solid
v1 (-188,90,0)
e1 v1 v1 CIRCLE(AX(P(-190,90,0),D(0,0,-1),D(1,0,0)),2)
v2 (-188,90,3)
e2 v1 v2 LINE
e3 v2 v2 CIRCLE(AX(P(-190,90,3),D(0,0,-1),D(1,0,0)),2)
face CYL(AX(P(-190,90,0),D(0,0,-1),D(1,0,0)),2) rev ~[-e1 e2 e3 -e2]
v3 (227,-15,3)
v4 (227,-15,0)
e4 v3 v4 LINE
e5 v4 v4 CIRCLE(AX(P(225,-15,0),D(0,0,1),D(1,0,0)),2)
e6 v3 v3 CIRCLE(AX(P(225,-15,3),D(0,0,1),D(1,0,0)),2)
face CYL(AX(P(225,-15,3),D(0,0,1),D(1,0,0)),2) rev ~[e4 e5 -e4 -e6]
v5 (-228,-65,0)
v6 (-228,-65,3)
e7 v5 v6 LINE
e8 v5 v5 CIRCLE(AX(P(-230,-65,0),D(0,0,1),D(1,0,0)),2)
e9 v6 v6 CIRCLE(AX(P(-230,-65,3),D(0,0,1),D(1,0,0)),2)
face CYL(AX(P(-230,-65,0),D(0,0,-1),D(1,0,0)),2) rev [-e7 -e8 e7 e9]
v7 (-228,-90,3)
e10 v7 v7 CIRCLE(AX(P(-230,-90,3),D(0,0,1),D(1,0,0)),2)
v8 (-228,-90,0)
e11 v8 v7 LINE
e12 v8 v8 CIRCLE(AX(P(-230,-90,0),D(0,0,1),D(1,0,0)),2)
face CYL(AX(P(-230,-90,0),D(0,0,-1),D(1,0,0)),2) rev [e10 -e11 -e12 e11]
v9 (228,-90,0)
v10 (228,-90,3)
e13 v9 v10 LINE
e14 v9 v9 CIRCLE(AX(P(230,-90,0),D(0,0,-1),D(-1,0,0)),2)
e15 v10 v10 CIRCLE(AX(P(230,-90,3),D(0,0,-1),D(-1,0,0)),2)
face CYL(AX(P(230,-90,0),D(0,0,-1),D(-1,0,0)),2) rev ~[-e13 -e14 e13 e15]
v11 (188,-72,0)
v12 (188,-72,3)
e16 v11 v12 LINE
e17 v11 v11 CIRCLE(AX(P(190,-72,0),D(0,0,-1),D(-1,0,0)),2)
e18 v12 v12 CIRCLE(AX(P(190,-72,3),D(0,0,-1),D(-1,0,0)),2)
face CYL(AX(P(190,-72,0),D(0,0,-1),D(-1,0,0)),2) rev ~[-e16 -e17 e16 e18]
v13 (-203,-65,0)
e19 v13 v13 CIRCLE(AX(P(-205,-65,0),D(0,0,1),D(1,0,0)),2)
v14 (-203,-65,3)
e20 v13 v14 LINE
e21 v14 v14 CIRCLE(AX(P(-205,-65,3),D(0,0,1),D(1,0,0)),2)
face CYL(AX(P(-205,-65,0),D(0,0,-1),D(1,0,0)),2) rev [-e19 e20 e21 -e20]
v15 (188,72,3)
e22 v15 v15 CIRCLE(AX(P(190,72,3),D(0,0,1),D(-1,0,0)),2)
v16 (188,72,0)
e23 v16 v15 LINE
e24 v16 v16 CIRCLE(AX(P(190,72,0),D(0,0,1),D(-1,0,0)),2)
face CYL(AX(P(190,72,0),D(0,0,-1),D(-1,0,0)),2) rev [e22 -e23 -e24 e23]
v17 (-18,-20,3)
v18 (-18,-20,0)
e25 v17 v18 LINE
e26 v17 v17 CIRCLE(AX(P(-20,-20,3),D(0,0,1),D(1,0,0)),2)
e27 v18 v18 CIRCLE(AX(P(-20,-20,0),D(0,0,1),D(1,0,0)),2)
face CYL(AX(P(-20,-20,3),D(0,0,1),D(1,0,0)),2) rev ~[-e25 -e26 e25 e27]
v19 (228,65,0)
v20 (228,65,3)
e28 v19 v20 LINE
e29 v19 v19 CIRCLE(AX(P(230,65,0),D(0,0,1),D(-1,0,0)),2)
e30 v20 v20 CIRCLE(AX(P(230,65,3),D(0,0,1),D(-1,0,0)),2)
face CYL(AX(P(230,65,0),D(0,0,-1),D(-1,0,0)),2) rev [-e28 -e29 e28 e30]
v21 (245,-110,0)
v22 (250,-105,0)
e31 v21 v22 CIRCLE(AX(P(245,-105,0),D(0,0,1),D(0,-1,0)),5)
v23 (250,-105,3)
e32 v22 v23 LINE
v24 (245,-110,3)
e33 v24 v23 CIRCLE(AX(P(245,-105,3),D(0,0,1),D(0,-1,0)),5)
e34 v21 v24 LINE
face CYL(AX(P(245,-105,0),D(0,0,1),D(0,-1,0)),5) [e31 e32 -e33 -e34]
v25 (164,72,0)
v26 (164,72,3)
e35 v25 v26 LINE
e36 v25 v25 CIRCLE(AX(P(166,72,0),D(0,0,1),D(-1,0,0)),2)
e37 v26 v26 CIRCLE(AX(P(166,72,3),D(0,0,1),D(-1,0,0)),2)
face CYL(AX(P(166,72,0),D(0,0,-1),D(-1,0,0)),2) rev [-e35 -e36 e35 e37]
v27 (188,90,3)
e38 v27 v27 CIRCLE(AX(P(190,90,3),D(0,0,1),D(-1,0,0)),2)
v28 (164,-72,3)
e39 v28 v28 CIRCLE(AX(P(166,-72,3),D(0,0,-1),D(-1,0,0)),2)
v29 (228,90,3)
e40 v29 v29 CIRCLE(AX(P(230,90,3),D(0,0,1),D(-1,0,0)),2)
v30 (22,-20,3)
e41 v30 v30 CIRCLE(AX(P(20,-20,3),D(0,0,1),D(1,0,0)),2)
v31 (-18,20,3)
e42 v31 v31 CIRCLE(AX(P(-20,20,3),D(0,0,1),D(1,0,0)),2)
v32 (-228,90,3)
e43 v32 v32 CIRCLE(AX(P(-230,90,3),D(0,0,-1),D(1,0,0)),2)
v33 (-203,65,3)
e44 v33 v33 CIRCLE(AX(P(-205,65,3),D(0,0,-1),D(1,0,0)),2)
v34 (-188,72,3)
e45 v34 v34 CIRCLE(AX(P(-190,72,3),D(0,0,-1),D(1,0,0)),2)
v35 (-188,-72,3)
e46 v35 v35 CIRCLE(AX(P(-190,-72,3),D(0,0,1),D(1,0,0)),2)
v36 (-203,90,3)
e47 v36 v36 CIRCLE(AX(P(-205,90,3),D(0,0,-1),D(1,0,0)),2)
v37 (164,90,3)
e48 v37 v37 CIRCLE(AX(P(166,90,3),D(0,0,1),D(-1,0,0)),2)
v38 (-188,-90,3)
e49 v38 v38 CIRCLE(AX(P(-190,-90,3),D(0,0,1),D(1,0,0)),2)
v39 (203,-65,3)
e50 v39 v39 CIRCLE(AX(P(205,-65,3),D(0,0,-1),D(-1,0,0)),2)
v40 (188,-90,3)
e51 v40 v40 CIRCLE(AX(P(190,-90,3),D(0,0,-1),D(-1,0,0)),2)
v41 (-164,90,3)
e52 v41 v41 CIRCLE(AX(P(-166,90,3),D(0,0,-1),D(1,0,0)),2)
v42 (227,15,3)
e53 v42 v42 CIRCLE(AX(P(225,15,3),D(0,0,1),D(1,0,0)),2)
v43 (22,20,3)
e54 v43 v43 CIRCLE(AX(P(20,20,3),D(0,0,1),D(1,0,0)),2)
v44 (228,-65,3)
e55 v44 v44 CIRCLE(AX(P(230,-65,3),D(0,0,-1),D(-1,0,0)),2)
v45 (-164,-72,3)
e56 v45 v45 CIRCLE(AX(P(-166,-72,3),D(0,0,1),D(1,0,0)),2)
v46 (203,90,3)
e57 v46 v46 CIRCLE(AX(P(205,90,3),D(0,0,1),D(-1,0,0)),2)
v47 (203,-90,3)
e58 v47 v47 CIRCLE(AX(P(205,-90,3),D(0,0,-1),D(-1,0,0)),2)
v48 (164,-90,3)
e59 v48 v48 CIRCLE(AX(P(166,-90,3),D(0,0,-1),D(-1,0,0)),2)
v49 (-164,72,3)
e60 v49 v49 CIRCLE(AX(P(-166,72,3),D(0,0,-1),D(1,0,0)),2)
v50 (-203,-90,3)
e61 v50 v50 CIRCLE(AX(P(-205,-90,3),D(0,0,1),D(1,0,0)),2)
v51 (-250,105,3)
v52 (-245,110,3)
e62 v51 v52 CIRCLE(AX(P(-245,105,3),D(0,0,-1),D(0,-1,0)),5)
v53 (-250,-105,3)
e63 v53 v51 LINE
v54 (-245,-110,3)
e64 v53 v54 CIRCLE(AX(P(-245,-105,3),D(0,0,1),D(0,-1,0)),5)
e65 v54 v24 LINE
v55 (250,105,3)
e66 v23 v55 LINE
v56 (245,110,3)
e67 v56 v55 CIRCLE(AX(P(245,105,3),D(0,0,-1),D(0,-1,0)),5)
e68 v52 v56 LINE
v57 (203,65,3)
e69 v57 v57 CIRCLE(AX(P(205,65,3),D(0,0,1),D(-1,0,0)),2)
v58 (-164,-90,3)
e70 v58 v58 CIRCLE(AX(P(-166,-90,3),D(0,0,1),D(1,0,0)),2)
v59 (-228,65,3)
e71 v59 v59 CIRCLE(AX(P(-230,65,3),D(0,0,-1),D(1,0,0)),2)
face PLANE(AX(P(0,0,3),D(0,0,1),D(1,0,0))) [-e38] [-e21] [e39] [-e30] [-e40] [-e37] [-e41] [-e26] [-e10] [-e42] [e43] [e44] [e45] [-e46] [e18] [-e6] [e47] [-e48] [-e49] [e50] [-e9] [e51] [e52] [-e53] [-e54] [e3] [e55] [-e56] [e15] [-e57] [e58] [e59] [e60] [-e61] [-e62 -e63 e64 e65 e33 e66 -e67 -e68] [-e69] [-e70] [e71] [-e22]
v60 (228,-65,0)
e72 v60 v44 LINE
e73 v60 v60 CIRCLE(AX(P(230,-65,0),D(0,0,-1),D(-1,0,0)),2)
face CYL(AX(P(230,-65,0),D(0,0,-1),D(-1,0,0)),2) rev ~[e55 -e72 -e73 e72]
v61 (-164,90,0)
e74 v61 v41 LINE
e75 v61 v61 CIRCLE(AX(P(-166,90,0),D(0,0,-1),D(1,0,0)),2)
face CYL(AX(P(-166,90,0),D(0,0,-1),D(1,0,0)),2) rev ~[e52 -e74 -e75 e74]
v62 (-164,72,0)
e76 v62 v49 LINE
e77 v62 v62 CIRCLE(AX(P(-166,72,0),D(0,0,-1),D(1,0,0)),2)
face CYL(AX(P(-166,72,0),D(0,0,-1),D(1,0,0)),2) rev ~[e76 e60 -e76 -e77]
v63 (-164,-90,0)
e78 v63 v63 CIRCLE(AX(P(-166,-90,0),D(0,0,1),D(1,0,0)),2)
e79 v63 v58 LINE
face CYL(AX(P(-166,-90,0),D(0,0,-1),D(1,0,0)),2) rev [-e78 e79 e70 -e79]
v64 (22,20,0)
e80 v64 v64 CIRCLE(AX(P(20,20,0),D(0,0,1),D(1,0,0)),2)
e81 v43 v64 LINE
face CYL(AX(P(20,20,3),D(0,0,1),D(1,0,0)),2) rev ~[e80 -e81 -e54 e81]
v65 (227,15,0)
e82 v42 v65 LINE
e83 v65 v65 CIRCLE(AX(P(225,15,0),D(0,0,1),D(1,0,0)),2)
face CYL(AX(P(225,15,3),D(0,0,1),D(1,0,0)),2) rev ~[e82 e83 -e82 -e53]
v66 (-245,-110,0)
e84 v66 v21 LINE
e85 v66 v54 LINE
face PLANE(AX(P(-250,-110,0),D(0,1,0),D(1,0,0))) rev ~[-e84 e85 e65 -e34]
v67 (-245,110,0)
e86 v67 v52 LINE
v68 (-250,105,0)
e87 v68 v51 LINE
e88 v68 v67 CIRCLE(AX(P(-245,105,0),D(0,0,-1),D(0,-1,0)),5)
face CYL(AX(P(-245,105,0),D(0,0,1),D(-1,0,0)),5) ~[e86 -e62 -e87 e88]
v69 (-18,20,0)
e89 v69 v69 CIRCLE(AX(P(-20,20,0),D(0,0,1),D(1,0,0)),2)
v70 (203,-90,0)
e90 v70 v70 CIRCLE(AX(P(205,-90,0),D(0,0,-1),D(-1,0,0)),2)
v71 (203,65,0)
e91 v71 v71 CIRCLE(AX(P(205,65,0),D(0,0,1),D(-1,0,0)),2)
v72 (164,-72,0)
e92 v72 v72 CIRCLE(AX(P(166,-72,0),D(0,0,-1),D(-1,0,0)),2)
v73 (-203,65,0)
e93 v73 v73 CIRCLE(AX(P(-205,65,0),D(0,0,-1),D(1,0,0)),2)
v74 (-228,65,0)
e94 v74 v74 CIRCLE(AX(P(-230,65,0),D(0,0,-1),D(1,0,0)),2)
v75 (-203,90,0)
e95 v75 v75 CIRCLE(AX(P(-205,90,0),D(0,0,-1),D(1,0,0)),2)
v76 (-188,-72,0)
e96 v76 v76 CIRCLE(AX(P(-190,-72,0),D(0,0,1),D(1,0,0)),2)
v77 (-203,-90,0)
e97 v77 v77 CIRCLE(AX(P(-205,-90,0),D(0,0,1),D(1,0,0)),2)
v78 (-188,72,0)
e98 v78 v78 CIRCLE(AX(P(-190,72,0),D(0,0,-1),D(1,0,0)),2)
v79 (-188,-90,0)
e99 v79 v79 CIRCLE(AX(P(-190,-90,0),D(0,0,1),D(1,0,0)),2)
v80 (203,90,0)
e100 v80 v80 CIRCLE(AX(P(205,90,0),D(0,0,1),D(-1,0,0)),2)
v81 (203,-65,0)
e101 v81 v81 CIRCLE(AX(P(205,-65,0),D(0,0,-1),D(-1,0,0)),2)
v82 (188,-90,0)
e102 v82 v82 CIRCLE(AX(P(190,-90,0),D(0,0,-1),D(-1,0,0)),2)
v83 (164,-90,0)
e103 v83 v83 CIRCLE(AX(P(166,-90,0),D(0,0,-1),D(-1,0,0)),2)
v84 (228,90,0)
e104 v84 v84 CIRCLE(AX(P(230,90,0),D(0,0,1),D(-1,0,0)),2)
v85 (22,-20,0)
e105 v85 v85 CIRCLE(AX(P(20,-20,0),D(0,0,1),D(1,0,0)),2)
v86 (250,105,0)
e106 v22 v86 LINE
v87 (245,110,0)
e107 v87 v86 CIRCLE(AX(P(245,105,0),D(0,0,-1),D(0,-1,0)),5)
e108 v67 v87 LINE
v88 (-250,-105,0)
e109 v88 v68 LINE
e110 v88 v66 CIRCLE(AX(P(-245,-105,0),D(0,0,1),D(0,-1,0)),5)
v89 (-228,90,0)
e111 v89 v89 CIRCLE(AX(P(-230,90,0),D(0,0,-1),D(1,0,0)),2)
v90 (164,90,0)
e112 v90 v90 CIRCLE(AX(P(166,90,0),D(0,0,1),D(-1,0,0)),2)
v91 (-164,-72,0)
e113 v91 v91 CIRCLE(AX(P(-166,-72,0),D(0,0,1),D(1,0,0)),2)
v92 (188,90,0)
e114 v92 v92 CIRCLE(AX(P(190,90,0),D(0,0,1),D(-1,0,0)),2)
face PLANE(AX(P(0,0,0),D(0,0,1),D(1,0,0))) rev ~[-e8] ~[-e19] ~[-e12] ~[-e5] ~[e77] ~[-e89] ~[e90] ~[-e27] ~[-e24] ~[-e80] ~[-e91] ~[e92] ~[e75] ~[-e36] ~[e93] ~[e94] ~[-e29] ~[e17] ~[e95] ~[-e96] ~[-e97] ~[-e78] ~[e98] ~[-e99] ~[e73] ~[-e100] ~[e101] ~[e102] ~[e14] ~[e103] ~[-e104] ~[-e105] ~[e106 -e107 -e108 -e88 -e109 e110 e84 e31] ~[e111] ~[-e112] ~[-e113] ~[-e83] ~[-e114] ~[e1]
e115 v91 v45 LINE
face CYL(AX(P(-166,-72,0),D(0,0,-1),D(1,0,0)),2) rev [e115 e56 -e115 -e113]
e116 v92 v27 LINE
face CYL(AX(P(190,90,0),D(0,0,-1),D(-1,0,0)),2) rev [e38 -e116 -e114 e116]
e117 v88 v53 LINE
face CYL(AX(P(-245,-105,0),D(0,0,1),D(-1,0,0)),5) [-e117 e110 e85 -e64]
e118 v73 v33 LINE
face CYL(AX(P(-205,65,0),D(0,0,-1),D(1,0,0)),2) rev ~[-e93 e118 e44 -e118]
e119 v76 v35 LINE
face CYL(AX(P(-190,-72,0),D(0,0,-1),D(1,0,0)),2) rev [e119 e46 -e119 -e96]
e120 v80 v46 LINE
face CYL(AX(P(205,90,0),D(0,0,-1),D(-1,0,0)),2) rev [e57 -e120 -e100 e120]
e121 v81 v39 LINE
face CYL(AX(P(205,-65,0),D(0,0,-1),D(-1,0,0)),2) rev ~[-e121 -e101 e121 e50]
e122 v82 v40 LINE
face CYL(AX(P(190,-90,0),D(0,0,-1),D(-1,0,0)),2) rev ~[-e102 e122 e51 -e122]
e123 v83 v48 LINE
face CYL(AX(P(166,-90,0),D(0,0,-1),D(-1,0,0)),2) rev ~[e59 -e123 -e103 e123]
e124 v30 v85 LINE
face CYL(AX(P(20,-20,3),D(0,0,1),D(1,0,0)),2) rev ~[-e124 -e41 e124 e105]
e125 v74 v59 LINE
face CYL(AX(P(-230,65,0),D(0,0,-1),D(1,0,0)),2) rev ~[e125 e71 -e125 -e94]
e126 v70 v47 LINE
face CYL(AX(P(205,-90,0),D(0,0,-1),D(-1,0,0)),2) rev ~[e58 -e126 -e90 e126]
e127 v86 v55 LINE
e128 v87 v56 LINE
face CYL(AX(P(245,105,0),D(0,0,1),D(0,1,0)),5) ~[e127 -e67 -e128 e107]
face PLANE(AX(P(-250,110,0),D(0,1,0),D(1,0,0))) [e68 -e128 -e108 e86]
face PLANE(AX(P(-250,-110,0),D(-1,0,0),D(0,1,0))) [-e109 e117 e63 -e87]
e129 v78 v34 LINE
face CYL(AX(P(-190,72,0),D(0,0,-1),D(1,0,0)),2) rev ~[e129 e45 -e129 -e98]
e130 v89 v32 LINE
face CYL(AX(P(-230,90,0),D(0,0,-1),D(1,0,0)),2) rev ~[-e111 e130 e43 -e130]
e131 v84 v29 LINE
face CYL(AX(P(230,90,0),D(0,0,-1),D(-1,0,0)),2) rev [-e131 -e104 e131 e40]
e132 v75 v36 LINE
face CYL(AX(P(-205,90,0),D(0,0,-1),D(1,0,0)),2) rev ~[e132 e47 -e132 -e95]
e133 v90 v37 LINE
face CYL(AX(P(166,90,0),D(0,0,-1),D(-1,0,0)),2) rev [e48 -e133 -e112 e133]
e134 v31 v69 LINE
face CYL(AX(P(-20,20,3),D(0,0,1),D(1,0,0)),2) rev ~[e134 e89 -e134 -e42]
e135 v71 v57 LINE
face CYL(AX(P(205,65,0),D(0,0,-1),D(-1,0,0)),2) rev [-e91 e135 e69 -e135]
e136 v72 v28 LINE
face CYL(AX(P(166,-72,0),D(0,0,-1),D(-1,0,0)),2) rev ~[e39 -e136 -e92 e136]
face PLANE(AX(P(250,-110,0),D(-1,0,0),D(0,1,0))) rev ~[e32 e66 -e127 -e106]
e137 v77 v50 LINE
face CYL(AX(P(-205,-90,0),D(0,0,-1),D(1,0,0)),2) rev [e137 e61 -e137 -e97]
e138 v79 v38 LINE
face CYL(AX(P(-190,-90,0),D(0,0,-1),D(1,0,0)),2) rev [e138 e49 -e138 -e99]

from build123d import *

# Parameters (mm, degrees)
SZKIC1_W                    = 500
SZKIC1_H                    = 220
DODANIE_WYCI_GNI_CIE1_DEPTH = 3
WYTNIJ_WYCI_GNI_CIE2_REACH  = 275.146
SZKIC5_R                    = 2
WYTNIJ_WYCI_GNI_CIE4_REACH  = 275.146
SZKIC7_R                    = 2
ZAOKR_GLENIE1_R             = 5
WYTNIJ_WYCI_GNI_CIE5_REACH  = 275.146
SZKIC8_R                    = 2
LUSTRO2_COPY_1_REACH        = 275.146
LUSTRO2_COPY_1_SKETCH_R     = 2
WYTNIJ_WYCI_GNI_CIE6_REACH  = 275.146
SZKIC9_R                    = 2
LUSTRO4_COPY_1_REACH        = 275.146
LUSTRO4_COPY_1_SKETCH_R     = 2


with BuildPart() as part:
    # Szkic1 → Dodanie-wyciągnięcie1 (new body)
    with BuildSketch(Plane.XY):
        Rectangle(SZKIC1_W, SZKIC1_H)
    extrude(amount=DODANIE_WYCI_GNI_CIE1_DEPTH)

    # Szkic5 → Wytnij-wyciągnięcie2 (cut, up to next)
    with BuildSketch(Plane.XY.offset(3), mode=Mode.PRIVATE) as wytnij_wyci_gni_cie2_sk1:
        with Locations((225, 15)):
            Circle(SZKIC5_R)
    wytnij_wyci_gni_cie2_tool1 = extrude(wytnij_wyci_gni_cie2_sk1.sketch, amount=-WYTNIJ_WYCI_GNI_CIE2_REACH, mode=Mode.PRIVATE) & part.part
    # Szkic5 → Wytnij-wyciągnięcie2 (cut, up to next)
    with BuildSketch(Plane.XY.offset(3), mode=Mode.PRIVATE) as wytnij_wyci_gni_cie2_sk2:
        with Locations((225, -15)):
            Circle(SZKIC5_R)
    wytnij_wyci_gni_cie2_tool2 = extrude(wytnij_wyci_gni_cie2_sk2.sketch, amount=-WYTNIJ_WYCI_GNI_CIE2_REACH, mode=Mode.PRIVATE) & part.part
    add(wytnij_wyci_gni_cie2_tool1.solids().sort_by_distance((225, 15, 3))[0], mode=Mode.SUBTRACT)
    add(wytnij_wyci_gni_cie2_tool2.solids().sort_by_distance((225, -15, 3))[0], mode=Mode.SUBTRACT)

    # Szkic7 → Wytnij-wyciągnięcie4 (cut, up to next)
    with BuildSketch(Plane.XY.offset(3), mode=Mode.PRIVATE) as wytnij_wyci_gni_cie4_sk1:
        with Locations((-20, 20)):
            Circle(SZKIC7_R)
    wytnij_wyci_gni_cie4_tool1 = extrude(wytnij_wyci_gni_cie4_sk1.sketch, amount=-WYTNIJ_WYCI_GNI_CIE4_REACH, mode=Mode.PRIVATE) & part.part
    # Szkic7 → Wytnij-wyciągnięcie4 (cut, up to next)
    with BuildSketch(Plane.XY.offset(3), mode=Mode.PRIVATE) as wytnij_wyci_gni_cie4_sk2:
        with Locations((20, 20)):
            Circle(SZKIC7_R)
    wytnij_wyci_gni_cie4_tool2 = extrude(wytnij_wyci_gni_cie4_sk2.sketch, amount=-WYTNIJ_WYCI_GNI_CIE4_REACH, mode=Mode.PRIVATE) & part.part
    # Szkic7 → Wytnij-wyciągnięcie4 (cut, up to next)
    with BuildSketch(Plane.XY.offset(3), mode=Mode.PRIVATE) as wytnij_wyci_gni_cie4_sk3:
        with Locations((20, -20)):
            Circle(SZKIC7_R)
    wytnij_wyci_gni_cie4_tool3 = extrude(wytnij_wyci_gni_cie4_sk3.sketch, amount=-WYTNIJ_WYCI_GNI_CIE4_REACH, mode=Mode.PRIVATE) & part.part
    # Szkic7 → Wytnij-wyciągnięcie4 (cut, up to next)
    with BuildSketch(Plane.XY.offset(3), mode=Mode.PRIVATE) as wytnij_wyci_gni_cie4_sk4:
        with Locations((-20, -20)):
            Circle(SZKIC7_R)
    wytnij_wyci_gni_cie4_tool4 = extrude(wytnij_wyci_gni_cie4_sk4.sketch, amount=-WYTNIJ_WYCI_GNI_CIE4_REACH, mode=Mode.PRIVATE) & part.part
    add(wytnij_wyci_gni_cie4_tool1.solids().sort_by_distance((-20, 20, 3))[0], mode=Mode.SUBTRACT)
    add(wytnij_wyci_gni_cie4_tool2.solids().sort_by_distance((20, 20, 3))[0], mode=Mode.SUBTRACT)
    add(wytnij_wyci_gni_cie4_tool3.solids().sort_by_distance((20, -20, 3))[0], mode=Mode.SUBTRACT)
    add(wytnij_wyci_gni_cie4_tool4.solids().sort_by_distance((-20, -20, 3))[0], mode=Mode.SUBTRACT)

    # Zaokrąglenie1
    zaokr_glenie1_edges = [part.edges().sort_by_distance(p)[0] for p in [
        (250, -110, 1.5),
        (-250, -110, 1.5),
        (-250, 110, 1.5),
        (250, 110, 1.5),
    ]]
    fillet(zaokr_glenie1_edges, radius=ZAOKR_GLENIE1_R)

    # Szkic8 → Wytnij-wyciągnięcie5 (cut, up to next)
    with BuildSketch(Plane(origin=(0, 0, 0), x_dir=(-1, 0, 0), z_dir=(0, 0, -1)), mode=Mode.PRIVATE) as wytnij_wyci_gni_cie5_sk1:
        with Locations((-230, -65)):
            Circle(SZKIC8_R)
    wytnij_wyci_gni_cie5_tool1 = extrude(wytnij_wyci_gni_cie5_sk1.sketch, amount=-WYTNIJ_WYCI_GNI_CIE5_REACH, mode=Mode.PRIVATE) & part.part
    # Szkic8 → Wytnij-wyciągnięcie5 (cut, up to next)
    with BuildSketch(Plane(origin=(0, 0, 0), x_dir=(-1, 0, 0), z_dir=(0, 0, -1)), mode=Mode.PRIVATE) as wytnij_wyci_gni_cie5_sk2:
        with Locations((-205, -65)):
            Circle(SZKIC8_R)
    wytnij_wyci_gni_cie5_tool2 = extrude(wytnij_wyci_gni_cie5_sk2.sketch, amount=-WYTNIJ_WYCI_GNI_CIE5_REACH, mode=Mode.PRIVATE) & part.part
    # Szkic8 → Wytnij-wyciągnięcie5 (cut, up to next)
    with BuildSketch(Plane(origin=(0, 0, 0), x_dir=(-1, 0, 0), z_dir=(0, 0, -1)), mode=Mode.PRIVATE) as wytnij_wyci_gni_cie5_sk3:
        with Locations((-205, -90)):
            Circle(SZKIC8_R)
    wytnij_wyci_gni_cie5_tool3 = extrude(wytnij_wyci_gni_cie5_sk3.sketch, amount=-WYTNIJ_WYCI_GNI_CIE5_REACH, mode=Mode.PRIVATE) & part.part
    # Szkic8 → Wytnij-wyciągnięcie5 (cut, up to next)
    with BuildSketch(Plane(origin=(0, 0, 0), x_dir=(-1, 0, 0), z_dir=(0, 0, -1)), mode=Mode.PRIVATE) as wytnij_wyci_gni_cie5_sk4:
        with Locations((-230, -90)):
            Circle(SZKIC8_R)
    wytnij_wyci_gni_cie5_tool4 = extrude(wytnij_wyci_gni_cie5_sk4.sketch, amount=-WYTNIJ_WYCI_GNI_CIE5_REACH, mode=Mode.PRIVATE) & part.part
    wytnij_wyci_gni_cie5_1 = wytnij_wyci_gni_cie5_tool1.solids().sort_by_distance((230, -65, 0))[0]
    add(wytnij_wyci_gni_cie5_1, mode=Mode.SUBTRACT)
    wytnij_wyci_gni_cie5_2 = wytnij_wyci_gni_cie5_tool2.solids().sort_by_distance((205, -65, 0))[0]
    add(wytnij_wyci_gni_cie5_2, mode=Mode.SUBTRACT)
    wytnij_wyci_gni_cie5_3 = wytnij_wyci_gni_cie5_tool3.solids().sort_by_distance((205, -90, 0))[0]
    add(wytnij_wyci_gni_cie5_3, mode=Mode.SUBTRACT)
    wytnij_wyci_gni_cie5_4 = wytnij_wyci_gni_cie5_tool4.solids().sort_by_distance((230, -90, 0))[0]
    add(wytnij_wyci_gni_cie5_4, mode=Mode.SUBTRACT)
    wytnij_wyci_gni_cie5 = wytnij_wyci_gni_cie5_1 + wytnij_wyci_gni_cie5_2 + wytnij_wyci_gni_cie5_3 + wytnij_wyci_gni_cie5_4  # Wytnij-wyciągnięcie5 as one shape, for the pattern or mirror that repeats it

    # Lustro1: Wytnij-wyciągnięcie5 across plane
    add(wytnij_wyci_gni_cie5.mirror(Plane(origin=(0, 0, 0), x_dir=(0, 0, 1), z_dir=(1, 0, 0))), mode=Mode.SUBTRACT)

    # Lustro2: Wytnij-wyciągnięcie5 across plane
    add(wytnij_wyci_gni_cie5.mirror(Plane.ZX), mode=Mode.SUBTRACT)

    # Lustro2 copy 1 sketch → Lustro2 copy 1 (cut, up to next)
    with BuildSketch(Plane(origin=(0, 0, 0), x_dir=(1, 0, 0), z_dir=(0, 0, -1)), mode=Mode.PRIVATE) as lustro2_copy_1_sk1:
        with Locations((-230, -65)):
            Circle(LUSTRO2_COPY_1_SKETCH_R)
    lustro2_copy_1_tool1 = extrude(lustro2_copy_1_sk1.sketch, amount=-LUSTRO2_COPY_1_REACH, mode=Mode.PRIVATE) & part.part
    # Lustro2 copy 1 sketch → Lustro2 copy 1 (cut, up to next)
    with BuildSketch(Plane(origin=(0, 0, 0), x_dir=(1, 0, 0), z_dir=(0, 0, -1)), mode=Mode.PRIVATE) as lustro2_copy_1_sk2:
        with Locations((-205, -65)):
            Circle(LUSTRO2_COPY_1_SKETCH_R)
    lustro2_copy_1_tool2 = extrude(lustro2_copy_1_sk2.sketch, amount=-LUSTRO2_COPY_1_REACH, mode=Mode.PRIVATE) & part.part
    # Lustro2 copy 1 sketch → Lustro2 copy 1 (cut, up to next)
    with BuildSketch(Plane(origin=(0, 0, 0), x_dir=(1, 0, 0), z_dir=(0, 0, -1)), mode=Mode.PRIVATE) as lustro2_copy_1_sk3:
        with Locations((-205, -90)):
            Circle(LUSTRO2_COPY_1_SKETCH_R)
    lustro2_copy_1_tool3 = extrude(lustro2_copy_1_sk3.sketch, amount=-LUSTRO2_COPY_1_REACH, mode=Mode.PRIVATE) & part.part
    # Lustro2 copy 1 sketch → Lustro2 copy 1 (cut, up to next)
    with BuildSketch(Plane(origin=(0, 0, 0), x_dir=(1, 0, 0), z_dir=(0, 0, -1)), mode=Mode.PRIVATE) as lustro2_copy_1_sk4:
        with Locations((-230, -90)):
            Circle(LUSTRO2_COPY_1_SKETCH_R)
    lustro2_copy_1_tool4 = extrude(lustro2_copy_1_sk4.sketch, amount=-LUSTRO2_COPY_1_REACH, mode=Mode.PRIVATE) & part.part
    add(lustro2_copy_1_tool1.solids().sort_by_distance((-230, 65, 0))[0], mode=Mode.SUBTRACT)
    add(lustro2_copy_1_tool2.solids().sort_by_distance((-205, 65, 0))[0], mode=Mode.SUBTRACT)
    add(lustro2_copy_1_tool3.solids().sort_by_distance((-205, 90, 0))[0], mode=Mode.SUBTRACT)
    add(lustro2_copy_1_tool4.solids().sort_by_distance((-230, 90, 0))[0], mode=Mode.SUBTRACT)

    # Szkic9 → Wytnij-wyciągnięcie6 (cut, up to next)
    with BuildSketch(Plane(origin=(0, 0, 0), x_dir=(-1, 0, 0), z_dir=(0, 0, -1)), mode=Mode.PRIVATE) as wytnij_wyci_gni_cie6_sk1:
        with Locations((-190, -72)):
            Circle(SZKIC9_R)
    wytnij_wyci_gni_cie6_tool1 = extrude(wytnij_wyci_gni_cie6_sk1.sketch, amount=-WYTNIJ_WYCI_GNI_CIE6_REACH, mode=Mode.PRIVATE) & part.part
    # Szkic9 → Wytnij-wyciągnięcie6 (cut, up to next)
    with BuildSketch(Plane(origin=(0, 0, 0), x_dir=(-1, 0, 0), z_dir=(0, 0, -1)), mode=Mode.PRIVATE) as wytnij_wyci_gni_cie6_sk2:
        with Locations((-166, -72)):
            Circle(SZKIC9_R)
    wytnij_wyci_gni_cie6_tool2 = extrude(wytnij_wyci_gni_cie6_sk2.sketch, amount=-WYTNIJ_WYCI_GNI_CIE6_REACH, mode=Mode.PRIVATE) & part.part
    # Szkic9 → Wytnij-wyciągnięcie6 (cut, up to next)
    with BuildSketch(Plane(origin=(0, 0, 0), x_dir=(-1, 0, 0), z_dir=(0, 0, -1)), mode=Mode.PRIVATE) as wytnij_wyci_gni_cie6_sk3:
        with Locations((-166, -90)):
            Circle(SZKIC9_R)
    wytnij_wyci_gni_cie6_tool3 = extrude(wytnij_wyci_gni_cie6_sk3.sketch, amount=-WYTNIJ_WYCI_GNI_CIE6_REACH, mode=Mode.PRIVATE) & part.part
    # Szkic9 → Wytnij-wyciągnięcie6 (cut, up to next)
    with BuildSketch(Plane(origin=(0, 0, 0), x_dir=(-1, 0, 0), z_dir=(0, 0, -1)), mode=Mode.PRIVATE) as wytnij_wyci_gni_cie6_sk4:
        with Locations((-190, -90)):
            Circle(SZKIC9_R)
    wytnij_wyci_gni_cie6_tool4 = extrude(wytnij_wyci_gni_cie6_sk4.sketch, amount=-WYTNIJ_WYCI_GNI_CIE6_REACH, mode=Mode.PRIVATE) & part.part
    wytnij_wyci_gni_cie6_1 = wytnij_wyci_gni_cie6_tool1.solids().sort_by_distance((190, -72, 0))[0]
    add(wytnij_wyci_gni_cie6_1, mode=Mode.SUBTRACT)
    wytnij_wyci_gni_cie6_2 = wytnij_wyci_gni_cie6_tool2.solids().sort_by_distance((166, -72, 0))[0]
    add(wytnij_wyci_gni_cie6_2, mode=Mode.SUBTRACT)
    wytnij_wyci_gni_cie6_3 = wytnij_wyci_gni_cie6_tool3.solids().sort_by_distance((166, -90, 0))[0]
    add(wytnij_wyci_gni_cie6_3, mode=Mode.SUBTRACT)
    wytnij_wyci_gni_cie6_4 = wytnij_wyci_gni_cie6_tool4.solids().sort_by_distance((190, -90, 0))[0]
    add(wytnij_wyci_gni_cie6_4, mode=Mode.SUBTRACT)
    wytnij_wyci_gni_cie6 = wytnij_wyci_gni_cie6_1 + wytnij_wyci_gni_cie6_2 + wytnij_wyci_gni_cie6_3 + wytnij_wyci_gni_cie6_4  # Wytnij-wyciągnięcie6 as one shape, for the pattern or mirror that repeats it

    # Lustro3: Wytnij-wyciągnięcie6 across plane
    add(wytnij_wyci_gni_cie6.mirror(Plane.ZX), mode=Mode.SUBTRACT)

    # Lustro4: Wytnij-wyciągnięcie6 across plane
    add(wytnij_wyci_gni_cie6.mirror(Plane(origin=(0, 0, 0), x_dir=(0, 0, 1), z_dir=(1, 0, 0))), mode=Mode.SUBTRACT)

    # Lustro4 copy 1 sketch → Lustro4 copy 1 (cut, up to next)
    with BuildSketch(Plane(origin=(0, 0, 0), x_dir=(1, 0, 0), z_dir=(0, 0, -1)), mode=Mode.PRIVATE) as lustro4_copy_1_sk1:
        with Locations((-190, -72)):
            Circle(LUSTRO4_COPY_1_SKETCH_R)
    lustro4_copy_1_tool1 = extrude(lustro4_copy_1_sk1.sketch, amount=-LUSTRO4_COPY_1_REACH, mode=Mode.PRIVATE) & part.part
    # Lustro4 copy 1 sketch → Lustro4 copy 1 (cut, up to next)
    with BuildSketch(Plane(origin=(0, 0, 0), x_dir=(1, 0, 0), z_dir=(0, 0, -1)), mode=Mode.PRIVATE) as lustro4_copy_1_sk2:
        with Locations((-166, -72)):
            Circle(LUSTRO4_COPY_1_SKETCH_R)
    lustro4_copy_1_tool2 = extrude(lustro4_copy_1_sk2.sketch, amount=-LUSTRO4_COPY_1_REACH, mode=Mode.PRIVATE) & part.part
    # Lustro4 copy 1 sketch → Lustro4 copy 1 (cut, up to next)
    with BuildSketch(Plane(origin=(0, 0, 0), x_dir=(1, 0, 0), z_dir=(0, 0, -1)), mode=Mode.PRIVATE) as lustro4_copy_1_sk3:
        with Locations((-166, -90)):
            Circle(LUSTRO4_COPY_1_SKETCH_R)
    lustro4_copy_1_tool3 = extrude(lustro4_copy_1_sk3.sketch, amount=-LUSTRO4_COPY_1_REACH, mode=Mode.PRIVATE) & part.part
    # Lustro4 copy 1 sketch → Lustro4 copy 1 (cut, up to next)
    with BuildSketch(Plane(origin=(0, 0, 0), x_dir=(1, 0, 0), z_dir=(0, 0, -1)), mode=Mode.PRIVATE) as lustro4_copy_1_sk4:
        with Locations((-190, -90)):
            Circle(LUSTRO4_COPY_1_SKETCH_R)
    lustro4_copy_1_tool4 = extrude(lustro4_copy_1_sk4.sketch, amount=-LUSTRO4_COPY_1_REACH, mode=Mode.PRIVATE) & part.part
    add(lustro4_copy_1_tool1.solids().sort_by_distance((-190, 72, 0))[0], mode=Mode.SUBTRACT)
    add(lustro4_copy_1_tool2.solids().sort_by_distance((-166, 72, 0))[0], mode=Mode.SUBTRACT)
    add(lustro4_copy_1_tool3.solids().sort_by_distance((-166, 90, 0))[0], mode=Mode.SUBTRACT)
    add(lustro4_copy_1_tool4.solids().sort_by_distance((-190, 90, 0))[0], mode=Mode.SUBTRACT)


solid = part.part
